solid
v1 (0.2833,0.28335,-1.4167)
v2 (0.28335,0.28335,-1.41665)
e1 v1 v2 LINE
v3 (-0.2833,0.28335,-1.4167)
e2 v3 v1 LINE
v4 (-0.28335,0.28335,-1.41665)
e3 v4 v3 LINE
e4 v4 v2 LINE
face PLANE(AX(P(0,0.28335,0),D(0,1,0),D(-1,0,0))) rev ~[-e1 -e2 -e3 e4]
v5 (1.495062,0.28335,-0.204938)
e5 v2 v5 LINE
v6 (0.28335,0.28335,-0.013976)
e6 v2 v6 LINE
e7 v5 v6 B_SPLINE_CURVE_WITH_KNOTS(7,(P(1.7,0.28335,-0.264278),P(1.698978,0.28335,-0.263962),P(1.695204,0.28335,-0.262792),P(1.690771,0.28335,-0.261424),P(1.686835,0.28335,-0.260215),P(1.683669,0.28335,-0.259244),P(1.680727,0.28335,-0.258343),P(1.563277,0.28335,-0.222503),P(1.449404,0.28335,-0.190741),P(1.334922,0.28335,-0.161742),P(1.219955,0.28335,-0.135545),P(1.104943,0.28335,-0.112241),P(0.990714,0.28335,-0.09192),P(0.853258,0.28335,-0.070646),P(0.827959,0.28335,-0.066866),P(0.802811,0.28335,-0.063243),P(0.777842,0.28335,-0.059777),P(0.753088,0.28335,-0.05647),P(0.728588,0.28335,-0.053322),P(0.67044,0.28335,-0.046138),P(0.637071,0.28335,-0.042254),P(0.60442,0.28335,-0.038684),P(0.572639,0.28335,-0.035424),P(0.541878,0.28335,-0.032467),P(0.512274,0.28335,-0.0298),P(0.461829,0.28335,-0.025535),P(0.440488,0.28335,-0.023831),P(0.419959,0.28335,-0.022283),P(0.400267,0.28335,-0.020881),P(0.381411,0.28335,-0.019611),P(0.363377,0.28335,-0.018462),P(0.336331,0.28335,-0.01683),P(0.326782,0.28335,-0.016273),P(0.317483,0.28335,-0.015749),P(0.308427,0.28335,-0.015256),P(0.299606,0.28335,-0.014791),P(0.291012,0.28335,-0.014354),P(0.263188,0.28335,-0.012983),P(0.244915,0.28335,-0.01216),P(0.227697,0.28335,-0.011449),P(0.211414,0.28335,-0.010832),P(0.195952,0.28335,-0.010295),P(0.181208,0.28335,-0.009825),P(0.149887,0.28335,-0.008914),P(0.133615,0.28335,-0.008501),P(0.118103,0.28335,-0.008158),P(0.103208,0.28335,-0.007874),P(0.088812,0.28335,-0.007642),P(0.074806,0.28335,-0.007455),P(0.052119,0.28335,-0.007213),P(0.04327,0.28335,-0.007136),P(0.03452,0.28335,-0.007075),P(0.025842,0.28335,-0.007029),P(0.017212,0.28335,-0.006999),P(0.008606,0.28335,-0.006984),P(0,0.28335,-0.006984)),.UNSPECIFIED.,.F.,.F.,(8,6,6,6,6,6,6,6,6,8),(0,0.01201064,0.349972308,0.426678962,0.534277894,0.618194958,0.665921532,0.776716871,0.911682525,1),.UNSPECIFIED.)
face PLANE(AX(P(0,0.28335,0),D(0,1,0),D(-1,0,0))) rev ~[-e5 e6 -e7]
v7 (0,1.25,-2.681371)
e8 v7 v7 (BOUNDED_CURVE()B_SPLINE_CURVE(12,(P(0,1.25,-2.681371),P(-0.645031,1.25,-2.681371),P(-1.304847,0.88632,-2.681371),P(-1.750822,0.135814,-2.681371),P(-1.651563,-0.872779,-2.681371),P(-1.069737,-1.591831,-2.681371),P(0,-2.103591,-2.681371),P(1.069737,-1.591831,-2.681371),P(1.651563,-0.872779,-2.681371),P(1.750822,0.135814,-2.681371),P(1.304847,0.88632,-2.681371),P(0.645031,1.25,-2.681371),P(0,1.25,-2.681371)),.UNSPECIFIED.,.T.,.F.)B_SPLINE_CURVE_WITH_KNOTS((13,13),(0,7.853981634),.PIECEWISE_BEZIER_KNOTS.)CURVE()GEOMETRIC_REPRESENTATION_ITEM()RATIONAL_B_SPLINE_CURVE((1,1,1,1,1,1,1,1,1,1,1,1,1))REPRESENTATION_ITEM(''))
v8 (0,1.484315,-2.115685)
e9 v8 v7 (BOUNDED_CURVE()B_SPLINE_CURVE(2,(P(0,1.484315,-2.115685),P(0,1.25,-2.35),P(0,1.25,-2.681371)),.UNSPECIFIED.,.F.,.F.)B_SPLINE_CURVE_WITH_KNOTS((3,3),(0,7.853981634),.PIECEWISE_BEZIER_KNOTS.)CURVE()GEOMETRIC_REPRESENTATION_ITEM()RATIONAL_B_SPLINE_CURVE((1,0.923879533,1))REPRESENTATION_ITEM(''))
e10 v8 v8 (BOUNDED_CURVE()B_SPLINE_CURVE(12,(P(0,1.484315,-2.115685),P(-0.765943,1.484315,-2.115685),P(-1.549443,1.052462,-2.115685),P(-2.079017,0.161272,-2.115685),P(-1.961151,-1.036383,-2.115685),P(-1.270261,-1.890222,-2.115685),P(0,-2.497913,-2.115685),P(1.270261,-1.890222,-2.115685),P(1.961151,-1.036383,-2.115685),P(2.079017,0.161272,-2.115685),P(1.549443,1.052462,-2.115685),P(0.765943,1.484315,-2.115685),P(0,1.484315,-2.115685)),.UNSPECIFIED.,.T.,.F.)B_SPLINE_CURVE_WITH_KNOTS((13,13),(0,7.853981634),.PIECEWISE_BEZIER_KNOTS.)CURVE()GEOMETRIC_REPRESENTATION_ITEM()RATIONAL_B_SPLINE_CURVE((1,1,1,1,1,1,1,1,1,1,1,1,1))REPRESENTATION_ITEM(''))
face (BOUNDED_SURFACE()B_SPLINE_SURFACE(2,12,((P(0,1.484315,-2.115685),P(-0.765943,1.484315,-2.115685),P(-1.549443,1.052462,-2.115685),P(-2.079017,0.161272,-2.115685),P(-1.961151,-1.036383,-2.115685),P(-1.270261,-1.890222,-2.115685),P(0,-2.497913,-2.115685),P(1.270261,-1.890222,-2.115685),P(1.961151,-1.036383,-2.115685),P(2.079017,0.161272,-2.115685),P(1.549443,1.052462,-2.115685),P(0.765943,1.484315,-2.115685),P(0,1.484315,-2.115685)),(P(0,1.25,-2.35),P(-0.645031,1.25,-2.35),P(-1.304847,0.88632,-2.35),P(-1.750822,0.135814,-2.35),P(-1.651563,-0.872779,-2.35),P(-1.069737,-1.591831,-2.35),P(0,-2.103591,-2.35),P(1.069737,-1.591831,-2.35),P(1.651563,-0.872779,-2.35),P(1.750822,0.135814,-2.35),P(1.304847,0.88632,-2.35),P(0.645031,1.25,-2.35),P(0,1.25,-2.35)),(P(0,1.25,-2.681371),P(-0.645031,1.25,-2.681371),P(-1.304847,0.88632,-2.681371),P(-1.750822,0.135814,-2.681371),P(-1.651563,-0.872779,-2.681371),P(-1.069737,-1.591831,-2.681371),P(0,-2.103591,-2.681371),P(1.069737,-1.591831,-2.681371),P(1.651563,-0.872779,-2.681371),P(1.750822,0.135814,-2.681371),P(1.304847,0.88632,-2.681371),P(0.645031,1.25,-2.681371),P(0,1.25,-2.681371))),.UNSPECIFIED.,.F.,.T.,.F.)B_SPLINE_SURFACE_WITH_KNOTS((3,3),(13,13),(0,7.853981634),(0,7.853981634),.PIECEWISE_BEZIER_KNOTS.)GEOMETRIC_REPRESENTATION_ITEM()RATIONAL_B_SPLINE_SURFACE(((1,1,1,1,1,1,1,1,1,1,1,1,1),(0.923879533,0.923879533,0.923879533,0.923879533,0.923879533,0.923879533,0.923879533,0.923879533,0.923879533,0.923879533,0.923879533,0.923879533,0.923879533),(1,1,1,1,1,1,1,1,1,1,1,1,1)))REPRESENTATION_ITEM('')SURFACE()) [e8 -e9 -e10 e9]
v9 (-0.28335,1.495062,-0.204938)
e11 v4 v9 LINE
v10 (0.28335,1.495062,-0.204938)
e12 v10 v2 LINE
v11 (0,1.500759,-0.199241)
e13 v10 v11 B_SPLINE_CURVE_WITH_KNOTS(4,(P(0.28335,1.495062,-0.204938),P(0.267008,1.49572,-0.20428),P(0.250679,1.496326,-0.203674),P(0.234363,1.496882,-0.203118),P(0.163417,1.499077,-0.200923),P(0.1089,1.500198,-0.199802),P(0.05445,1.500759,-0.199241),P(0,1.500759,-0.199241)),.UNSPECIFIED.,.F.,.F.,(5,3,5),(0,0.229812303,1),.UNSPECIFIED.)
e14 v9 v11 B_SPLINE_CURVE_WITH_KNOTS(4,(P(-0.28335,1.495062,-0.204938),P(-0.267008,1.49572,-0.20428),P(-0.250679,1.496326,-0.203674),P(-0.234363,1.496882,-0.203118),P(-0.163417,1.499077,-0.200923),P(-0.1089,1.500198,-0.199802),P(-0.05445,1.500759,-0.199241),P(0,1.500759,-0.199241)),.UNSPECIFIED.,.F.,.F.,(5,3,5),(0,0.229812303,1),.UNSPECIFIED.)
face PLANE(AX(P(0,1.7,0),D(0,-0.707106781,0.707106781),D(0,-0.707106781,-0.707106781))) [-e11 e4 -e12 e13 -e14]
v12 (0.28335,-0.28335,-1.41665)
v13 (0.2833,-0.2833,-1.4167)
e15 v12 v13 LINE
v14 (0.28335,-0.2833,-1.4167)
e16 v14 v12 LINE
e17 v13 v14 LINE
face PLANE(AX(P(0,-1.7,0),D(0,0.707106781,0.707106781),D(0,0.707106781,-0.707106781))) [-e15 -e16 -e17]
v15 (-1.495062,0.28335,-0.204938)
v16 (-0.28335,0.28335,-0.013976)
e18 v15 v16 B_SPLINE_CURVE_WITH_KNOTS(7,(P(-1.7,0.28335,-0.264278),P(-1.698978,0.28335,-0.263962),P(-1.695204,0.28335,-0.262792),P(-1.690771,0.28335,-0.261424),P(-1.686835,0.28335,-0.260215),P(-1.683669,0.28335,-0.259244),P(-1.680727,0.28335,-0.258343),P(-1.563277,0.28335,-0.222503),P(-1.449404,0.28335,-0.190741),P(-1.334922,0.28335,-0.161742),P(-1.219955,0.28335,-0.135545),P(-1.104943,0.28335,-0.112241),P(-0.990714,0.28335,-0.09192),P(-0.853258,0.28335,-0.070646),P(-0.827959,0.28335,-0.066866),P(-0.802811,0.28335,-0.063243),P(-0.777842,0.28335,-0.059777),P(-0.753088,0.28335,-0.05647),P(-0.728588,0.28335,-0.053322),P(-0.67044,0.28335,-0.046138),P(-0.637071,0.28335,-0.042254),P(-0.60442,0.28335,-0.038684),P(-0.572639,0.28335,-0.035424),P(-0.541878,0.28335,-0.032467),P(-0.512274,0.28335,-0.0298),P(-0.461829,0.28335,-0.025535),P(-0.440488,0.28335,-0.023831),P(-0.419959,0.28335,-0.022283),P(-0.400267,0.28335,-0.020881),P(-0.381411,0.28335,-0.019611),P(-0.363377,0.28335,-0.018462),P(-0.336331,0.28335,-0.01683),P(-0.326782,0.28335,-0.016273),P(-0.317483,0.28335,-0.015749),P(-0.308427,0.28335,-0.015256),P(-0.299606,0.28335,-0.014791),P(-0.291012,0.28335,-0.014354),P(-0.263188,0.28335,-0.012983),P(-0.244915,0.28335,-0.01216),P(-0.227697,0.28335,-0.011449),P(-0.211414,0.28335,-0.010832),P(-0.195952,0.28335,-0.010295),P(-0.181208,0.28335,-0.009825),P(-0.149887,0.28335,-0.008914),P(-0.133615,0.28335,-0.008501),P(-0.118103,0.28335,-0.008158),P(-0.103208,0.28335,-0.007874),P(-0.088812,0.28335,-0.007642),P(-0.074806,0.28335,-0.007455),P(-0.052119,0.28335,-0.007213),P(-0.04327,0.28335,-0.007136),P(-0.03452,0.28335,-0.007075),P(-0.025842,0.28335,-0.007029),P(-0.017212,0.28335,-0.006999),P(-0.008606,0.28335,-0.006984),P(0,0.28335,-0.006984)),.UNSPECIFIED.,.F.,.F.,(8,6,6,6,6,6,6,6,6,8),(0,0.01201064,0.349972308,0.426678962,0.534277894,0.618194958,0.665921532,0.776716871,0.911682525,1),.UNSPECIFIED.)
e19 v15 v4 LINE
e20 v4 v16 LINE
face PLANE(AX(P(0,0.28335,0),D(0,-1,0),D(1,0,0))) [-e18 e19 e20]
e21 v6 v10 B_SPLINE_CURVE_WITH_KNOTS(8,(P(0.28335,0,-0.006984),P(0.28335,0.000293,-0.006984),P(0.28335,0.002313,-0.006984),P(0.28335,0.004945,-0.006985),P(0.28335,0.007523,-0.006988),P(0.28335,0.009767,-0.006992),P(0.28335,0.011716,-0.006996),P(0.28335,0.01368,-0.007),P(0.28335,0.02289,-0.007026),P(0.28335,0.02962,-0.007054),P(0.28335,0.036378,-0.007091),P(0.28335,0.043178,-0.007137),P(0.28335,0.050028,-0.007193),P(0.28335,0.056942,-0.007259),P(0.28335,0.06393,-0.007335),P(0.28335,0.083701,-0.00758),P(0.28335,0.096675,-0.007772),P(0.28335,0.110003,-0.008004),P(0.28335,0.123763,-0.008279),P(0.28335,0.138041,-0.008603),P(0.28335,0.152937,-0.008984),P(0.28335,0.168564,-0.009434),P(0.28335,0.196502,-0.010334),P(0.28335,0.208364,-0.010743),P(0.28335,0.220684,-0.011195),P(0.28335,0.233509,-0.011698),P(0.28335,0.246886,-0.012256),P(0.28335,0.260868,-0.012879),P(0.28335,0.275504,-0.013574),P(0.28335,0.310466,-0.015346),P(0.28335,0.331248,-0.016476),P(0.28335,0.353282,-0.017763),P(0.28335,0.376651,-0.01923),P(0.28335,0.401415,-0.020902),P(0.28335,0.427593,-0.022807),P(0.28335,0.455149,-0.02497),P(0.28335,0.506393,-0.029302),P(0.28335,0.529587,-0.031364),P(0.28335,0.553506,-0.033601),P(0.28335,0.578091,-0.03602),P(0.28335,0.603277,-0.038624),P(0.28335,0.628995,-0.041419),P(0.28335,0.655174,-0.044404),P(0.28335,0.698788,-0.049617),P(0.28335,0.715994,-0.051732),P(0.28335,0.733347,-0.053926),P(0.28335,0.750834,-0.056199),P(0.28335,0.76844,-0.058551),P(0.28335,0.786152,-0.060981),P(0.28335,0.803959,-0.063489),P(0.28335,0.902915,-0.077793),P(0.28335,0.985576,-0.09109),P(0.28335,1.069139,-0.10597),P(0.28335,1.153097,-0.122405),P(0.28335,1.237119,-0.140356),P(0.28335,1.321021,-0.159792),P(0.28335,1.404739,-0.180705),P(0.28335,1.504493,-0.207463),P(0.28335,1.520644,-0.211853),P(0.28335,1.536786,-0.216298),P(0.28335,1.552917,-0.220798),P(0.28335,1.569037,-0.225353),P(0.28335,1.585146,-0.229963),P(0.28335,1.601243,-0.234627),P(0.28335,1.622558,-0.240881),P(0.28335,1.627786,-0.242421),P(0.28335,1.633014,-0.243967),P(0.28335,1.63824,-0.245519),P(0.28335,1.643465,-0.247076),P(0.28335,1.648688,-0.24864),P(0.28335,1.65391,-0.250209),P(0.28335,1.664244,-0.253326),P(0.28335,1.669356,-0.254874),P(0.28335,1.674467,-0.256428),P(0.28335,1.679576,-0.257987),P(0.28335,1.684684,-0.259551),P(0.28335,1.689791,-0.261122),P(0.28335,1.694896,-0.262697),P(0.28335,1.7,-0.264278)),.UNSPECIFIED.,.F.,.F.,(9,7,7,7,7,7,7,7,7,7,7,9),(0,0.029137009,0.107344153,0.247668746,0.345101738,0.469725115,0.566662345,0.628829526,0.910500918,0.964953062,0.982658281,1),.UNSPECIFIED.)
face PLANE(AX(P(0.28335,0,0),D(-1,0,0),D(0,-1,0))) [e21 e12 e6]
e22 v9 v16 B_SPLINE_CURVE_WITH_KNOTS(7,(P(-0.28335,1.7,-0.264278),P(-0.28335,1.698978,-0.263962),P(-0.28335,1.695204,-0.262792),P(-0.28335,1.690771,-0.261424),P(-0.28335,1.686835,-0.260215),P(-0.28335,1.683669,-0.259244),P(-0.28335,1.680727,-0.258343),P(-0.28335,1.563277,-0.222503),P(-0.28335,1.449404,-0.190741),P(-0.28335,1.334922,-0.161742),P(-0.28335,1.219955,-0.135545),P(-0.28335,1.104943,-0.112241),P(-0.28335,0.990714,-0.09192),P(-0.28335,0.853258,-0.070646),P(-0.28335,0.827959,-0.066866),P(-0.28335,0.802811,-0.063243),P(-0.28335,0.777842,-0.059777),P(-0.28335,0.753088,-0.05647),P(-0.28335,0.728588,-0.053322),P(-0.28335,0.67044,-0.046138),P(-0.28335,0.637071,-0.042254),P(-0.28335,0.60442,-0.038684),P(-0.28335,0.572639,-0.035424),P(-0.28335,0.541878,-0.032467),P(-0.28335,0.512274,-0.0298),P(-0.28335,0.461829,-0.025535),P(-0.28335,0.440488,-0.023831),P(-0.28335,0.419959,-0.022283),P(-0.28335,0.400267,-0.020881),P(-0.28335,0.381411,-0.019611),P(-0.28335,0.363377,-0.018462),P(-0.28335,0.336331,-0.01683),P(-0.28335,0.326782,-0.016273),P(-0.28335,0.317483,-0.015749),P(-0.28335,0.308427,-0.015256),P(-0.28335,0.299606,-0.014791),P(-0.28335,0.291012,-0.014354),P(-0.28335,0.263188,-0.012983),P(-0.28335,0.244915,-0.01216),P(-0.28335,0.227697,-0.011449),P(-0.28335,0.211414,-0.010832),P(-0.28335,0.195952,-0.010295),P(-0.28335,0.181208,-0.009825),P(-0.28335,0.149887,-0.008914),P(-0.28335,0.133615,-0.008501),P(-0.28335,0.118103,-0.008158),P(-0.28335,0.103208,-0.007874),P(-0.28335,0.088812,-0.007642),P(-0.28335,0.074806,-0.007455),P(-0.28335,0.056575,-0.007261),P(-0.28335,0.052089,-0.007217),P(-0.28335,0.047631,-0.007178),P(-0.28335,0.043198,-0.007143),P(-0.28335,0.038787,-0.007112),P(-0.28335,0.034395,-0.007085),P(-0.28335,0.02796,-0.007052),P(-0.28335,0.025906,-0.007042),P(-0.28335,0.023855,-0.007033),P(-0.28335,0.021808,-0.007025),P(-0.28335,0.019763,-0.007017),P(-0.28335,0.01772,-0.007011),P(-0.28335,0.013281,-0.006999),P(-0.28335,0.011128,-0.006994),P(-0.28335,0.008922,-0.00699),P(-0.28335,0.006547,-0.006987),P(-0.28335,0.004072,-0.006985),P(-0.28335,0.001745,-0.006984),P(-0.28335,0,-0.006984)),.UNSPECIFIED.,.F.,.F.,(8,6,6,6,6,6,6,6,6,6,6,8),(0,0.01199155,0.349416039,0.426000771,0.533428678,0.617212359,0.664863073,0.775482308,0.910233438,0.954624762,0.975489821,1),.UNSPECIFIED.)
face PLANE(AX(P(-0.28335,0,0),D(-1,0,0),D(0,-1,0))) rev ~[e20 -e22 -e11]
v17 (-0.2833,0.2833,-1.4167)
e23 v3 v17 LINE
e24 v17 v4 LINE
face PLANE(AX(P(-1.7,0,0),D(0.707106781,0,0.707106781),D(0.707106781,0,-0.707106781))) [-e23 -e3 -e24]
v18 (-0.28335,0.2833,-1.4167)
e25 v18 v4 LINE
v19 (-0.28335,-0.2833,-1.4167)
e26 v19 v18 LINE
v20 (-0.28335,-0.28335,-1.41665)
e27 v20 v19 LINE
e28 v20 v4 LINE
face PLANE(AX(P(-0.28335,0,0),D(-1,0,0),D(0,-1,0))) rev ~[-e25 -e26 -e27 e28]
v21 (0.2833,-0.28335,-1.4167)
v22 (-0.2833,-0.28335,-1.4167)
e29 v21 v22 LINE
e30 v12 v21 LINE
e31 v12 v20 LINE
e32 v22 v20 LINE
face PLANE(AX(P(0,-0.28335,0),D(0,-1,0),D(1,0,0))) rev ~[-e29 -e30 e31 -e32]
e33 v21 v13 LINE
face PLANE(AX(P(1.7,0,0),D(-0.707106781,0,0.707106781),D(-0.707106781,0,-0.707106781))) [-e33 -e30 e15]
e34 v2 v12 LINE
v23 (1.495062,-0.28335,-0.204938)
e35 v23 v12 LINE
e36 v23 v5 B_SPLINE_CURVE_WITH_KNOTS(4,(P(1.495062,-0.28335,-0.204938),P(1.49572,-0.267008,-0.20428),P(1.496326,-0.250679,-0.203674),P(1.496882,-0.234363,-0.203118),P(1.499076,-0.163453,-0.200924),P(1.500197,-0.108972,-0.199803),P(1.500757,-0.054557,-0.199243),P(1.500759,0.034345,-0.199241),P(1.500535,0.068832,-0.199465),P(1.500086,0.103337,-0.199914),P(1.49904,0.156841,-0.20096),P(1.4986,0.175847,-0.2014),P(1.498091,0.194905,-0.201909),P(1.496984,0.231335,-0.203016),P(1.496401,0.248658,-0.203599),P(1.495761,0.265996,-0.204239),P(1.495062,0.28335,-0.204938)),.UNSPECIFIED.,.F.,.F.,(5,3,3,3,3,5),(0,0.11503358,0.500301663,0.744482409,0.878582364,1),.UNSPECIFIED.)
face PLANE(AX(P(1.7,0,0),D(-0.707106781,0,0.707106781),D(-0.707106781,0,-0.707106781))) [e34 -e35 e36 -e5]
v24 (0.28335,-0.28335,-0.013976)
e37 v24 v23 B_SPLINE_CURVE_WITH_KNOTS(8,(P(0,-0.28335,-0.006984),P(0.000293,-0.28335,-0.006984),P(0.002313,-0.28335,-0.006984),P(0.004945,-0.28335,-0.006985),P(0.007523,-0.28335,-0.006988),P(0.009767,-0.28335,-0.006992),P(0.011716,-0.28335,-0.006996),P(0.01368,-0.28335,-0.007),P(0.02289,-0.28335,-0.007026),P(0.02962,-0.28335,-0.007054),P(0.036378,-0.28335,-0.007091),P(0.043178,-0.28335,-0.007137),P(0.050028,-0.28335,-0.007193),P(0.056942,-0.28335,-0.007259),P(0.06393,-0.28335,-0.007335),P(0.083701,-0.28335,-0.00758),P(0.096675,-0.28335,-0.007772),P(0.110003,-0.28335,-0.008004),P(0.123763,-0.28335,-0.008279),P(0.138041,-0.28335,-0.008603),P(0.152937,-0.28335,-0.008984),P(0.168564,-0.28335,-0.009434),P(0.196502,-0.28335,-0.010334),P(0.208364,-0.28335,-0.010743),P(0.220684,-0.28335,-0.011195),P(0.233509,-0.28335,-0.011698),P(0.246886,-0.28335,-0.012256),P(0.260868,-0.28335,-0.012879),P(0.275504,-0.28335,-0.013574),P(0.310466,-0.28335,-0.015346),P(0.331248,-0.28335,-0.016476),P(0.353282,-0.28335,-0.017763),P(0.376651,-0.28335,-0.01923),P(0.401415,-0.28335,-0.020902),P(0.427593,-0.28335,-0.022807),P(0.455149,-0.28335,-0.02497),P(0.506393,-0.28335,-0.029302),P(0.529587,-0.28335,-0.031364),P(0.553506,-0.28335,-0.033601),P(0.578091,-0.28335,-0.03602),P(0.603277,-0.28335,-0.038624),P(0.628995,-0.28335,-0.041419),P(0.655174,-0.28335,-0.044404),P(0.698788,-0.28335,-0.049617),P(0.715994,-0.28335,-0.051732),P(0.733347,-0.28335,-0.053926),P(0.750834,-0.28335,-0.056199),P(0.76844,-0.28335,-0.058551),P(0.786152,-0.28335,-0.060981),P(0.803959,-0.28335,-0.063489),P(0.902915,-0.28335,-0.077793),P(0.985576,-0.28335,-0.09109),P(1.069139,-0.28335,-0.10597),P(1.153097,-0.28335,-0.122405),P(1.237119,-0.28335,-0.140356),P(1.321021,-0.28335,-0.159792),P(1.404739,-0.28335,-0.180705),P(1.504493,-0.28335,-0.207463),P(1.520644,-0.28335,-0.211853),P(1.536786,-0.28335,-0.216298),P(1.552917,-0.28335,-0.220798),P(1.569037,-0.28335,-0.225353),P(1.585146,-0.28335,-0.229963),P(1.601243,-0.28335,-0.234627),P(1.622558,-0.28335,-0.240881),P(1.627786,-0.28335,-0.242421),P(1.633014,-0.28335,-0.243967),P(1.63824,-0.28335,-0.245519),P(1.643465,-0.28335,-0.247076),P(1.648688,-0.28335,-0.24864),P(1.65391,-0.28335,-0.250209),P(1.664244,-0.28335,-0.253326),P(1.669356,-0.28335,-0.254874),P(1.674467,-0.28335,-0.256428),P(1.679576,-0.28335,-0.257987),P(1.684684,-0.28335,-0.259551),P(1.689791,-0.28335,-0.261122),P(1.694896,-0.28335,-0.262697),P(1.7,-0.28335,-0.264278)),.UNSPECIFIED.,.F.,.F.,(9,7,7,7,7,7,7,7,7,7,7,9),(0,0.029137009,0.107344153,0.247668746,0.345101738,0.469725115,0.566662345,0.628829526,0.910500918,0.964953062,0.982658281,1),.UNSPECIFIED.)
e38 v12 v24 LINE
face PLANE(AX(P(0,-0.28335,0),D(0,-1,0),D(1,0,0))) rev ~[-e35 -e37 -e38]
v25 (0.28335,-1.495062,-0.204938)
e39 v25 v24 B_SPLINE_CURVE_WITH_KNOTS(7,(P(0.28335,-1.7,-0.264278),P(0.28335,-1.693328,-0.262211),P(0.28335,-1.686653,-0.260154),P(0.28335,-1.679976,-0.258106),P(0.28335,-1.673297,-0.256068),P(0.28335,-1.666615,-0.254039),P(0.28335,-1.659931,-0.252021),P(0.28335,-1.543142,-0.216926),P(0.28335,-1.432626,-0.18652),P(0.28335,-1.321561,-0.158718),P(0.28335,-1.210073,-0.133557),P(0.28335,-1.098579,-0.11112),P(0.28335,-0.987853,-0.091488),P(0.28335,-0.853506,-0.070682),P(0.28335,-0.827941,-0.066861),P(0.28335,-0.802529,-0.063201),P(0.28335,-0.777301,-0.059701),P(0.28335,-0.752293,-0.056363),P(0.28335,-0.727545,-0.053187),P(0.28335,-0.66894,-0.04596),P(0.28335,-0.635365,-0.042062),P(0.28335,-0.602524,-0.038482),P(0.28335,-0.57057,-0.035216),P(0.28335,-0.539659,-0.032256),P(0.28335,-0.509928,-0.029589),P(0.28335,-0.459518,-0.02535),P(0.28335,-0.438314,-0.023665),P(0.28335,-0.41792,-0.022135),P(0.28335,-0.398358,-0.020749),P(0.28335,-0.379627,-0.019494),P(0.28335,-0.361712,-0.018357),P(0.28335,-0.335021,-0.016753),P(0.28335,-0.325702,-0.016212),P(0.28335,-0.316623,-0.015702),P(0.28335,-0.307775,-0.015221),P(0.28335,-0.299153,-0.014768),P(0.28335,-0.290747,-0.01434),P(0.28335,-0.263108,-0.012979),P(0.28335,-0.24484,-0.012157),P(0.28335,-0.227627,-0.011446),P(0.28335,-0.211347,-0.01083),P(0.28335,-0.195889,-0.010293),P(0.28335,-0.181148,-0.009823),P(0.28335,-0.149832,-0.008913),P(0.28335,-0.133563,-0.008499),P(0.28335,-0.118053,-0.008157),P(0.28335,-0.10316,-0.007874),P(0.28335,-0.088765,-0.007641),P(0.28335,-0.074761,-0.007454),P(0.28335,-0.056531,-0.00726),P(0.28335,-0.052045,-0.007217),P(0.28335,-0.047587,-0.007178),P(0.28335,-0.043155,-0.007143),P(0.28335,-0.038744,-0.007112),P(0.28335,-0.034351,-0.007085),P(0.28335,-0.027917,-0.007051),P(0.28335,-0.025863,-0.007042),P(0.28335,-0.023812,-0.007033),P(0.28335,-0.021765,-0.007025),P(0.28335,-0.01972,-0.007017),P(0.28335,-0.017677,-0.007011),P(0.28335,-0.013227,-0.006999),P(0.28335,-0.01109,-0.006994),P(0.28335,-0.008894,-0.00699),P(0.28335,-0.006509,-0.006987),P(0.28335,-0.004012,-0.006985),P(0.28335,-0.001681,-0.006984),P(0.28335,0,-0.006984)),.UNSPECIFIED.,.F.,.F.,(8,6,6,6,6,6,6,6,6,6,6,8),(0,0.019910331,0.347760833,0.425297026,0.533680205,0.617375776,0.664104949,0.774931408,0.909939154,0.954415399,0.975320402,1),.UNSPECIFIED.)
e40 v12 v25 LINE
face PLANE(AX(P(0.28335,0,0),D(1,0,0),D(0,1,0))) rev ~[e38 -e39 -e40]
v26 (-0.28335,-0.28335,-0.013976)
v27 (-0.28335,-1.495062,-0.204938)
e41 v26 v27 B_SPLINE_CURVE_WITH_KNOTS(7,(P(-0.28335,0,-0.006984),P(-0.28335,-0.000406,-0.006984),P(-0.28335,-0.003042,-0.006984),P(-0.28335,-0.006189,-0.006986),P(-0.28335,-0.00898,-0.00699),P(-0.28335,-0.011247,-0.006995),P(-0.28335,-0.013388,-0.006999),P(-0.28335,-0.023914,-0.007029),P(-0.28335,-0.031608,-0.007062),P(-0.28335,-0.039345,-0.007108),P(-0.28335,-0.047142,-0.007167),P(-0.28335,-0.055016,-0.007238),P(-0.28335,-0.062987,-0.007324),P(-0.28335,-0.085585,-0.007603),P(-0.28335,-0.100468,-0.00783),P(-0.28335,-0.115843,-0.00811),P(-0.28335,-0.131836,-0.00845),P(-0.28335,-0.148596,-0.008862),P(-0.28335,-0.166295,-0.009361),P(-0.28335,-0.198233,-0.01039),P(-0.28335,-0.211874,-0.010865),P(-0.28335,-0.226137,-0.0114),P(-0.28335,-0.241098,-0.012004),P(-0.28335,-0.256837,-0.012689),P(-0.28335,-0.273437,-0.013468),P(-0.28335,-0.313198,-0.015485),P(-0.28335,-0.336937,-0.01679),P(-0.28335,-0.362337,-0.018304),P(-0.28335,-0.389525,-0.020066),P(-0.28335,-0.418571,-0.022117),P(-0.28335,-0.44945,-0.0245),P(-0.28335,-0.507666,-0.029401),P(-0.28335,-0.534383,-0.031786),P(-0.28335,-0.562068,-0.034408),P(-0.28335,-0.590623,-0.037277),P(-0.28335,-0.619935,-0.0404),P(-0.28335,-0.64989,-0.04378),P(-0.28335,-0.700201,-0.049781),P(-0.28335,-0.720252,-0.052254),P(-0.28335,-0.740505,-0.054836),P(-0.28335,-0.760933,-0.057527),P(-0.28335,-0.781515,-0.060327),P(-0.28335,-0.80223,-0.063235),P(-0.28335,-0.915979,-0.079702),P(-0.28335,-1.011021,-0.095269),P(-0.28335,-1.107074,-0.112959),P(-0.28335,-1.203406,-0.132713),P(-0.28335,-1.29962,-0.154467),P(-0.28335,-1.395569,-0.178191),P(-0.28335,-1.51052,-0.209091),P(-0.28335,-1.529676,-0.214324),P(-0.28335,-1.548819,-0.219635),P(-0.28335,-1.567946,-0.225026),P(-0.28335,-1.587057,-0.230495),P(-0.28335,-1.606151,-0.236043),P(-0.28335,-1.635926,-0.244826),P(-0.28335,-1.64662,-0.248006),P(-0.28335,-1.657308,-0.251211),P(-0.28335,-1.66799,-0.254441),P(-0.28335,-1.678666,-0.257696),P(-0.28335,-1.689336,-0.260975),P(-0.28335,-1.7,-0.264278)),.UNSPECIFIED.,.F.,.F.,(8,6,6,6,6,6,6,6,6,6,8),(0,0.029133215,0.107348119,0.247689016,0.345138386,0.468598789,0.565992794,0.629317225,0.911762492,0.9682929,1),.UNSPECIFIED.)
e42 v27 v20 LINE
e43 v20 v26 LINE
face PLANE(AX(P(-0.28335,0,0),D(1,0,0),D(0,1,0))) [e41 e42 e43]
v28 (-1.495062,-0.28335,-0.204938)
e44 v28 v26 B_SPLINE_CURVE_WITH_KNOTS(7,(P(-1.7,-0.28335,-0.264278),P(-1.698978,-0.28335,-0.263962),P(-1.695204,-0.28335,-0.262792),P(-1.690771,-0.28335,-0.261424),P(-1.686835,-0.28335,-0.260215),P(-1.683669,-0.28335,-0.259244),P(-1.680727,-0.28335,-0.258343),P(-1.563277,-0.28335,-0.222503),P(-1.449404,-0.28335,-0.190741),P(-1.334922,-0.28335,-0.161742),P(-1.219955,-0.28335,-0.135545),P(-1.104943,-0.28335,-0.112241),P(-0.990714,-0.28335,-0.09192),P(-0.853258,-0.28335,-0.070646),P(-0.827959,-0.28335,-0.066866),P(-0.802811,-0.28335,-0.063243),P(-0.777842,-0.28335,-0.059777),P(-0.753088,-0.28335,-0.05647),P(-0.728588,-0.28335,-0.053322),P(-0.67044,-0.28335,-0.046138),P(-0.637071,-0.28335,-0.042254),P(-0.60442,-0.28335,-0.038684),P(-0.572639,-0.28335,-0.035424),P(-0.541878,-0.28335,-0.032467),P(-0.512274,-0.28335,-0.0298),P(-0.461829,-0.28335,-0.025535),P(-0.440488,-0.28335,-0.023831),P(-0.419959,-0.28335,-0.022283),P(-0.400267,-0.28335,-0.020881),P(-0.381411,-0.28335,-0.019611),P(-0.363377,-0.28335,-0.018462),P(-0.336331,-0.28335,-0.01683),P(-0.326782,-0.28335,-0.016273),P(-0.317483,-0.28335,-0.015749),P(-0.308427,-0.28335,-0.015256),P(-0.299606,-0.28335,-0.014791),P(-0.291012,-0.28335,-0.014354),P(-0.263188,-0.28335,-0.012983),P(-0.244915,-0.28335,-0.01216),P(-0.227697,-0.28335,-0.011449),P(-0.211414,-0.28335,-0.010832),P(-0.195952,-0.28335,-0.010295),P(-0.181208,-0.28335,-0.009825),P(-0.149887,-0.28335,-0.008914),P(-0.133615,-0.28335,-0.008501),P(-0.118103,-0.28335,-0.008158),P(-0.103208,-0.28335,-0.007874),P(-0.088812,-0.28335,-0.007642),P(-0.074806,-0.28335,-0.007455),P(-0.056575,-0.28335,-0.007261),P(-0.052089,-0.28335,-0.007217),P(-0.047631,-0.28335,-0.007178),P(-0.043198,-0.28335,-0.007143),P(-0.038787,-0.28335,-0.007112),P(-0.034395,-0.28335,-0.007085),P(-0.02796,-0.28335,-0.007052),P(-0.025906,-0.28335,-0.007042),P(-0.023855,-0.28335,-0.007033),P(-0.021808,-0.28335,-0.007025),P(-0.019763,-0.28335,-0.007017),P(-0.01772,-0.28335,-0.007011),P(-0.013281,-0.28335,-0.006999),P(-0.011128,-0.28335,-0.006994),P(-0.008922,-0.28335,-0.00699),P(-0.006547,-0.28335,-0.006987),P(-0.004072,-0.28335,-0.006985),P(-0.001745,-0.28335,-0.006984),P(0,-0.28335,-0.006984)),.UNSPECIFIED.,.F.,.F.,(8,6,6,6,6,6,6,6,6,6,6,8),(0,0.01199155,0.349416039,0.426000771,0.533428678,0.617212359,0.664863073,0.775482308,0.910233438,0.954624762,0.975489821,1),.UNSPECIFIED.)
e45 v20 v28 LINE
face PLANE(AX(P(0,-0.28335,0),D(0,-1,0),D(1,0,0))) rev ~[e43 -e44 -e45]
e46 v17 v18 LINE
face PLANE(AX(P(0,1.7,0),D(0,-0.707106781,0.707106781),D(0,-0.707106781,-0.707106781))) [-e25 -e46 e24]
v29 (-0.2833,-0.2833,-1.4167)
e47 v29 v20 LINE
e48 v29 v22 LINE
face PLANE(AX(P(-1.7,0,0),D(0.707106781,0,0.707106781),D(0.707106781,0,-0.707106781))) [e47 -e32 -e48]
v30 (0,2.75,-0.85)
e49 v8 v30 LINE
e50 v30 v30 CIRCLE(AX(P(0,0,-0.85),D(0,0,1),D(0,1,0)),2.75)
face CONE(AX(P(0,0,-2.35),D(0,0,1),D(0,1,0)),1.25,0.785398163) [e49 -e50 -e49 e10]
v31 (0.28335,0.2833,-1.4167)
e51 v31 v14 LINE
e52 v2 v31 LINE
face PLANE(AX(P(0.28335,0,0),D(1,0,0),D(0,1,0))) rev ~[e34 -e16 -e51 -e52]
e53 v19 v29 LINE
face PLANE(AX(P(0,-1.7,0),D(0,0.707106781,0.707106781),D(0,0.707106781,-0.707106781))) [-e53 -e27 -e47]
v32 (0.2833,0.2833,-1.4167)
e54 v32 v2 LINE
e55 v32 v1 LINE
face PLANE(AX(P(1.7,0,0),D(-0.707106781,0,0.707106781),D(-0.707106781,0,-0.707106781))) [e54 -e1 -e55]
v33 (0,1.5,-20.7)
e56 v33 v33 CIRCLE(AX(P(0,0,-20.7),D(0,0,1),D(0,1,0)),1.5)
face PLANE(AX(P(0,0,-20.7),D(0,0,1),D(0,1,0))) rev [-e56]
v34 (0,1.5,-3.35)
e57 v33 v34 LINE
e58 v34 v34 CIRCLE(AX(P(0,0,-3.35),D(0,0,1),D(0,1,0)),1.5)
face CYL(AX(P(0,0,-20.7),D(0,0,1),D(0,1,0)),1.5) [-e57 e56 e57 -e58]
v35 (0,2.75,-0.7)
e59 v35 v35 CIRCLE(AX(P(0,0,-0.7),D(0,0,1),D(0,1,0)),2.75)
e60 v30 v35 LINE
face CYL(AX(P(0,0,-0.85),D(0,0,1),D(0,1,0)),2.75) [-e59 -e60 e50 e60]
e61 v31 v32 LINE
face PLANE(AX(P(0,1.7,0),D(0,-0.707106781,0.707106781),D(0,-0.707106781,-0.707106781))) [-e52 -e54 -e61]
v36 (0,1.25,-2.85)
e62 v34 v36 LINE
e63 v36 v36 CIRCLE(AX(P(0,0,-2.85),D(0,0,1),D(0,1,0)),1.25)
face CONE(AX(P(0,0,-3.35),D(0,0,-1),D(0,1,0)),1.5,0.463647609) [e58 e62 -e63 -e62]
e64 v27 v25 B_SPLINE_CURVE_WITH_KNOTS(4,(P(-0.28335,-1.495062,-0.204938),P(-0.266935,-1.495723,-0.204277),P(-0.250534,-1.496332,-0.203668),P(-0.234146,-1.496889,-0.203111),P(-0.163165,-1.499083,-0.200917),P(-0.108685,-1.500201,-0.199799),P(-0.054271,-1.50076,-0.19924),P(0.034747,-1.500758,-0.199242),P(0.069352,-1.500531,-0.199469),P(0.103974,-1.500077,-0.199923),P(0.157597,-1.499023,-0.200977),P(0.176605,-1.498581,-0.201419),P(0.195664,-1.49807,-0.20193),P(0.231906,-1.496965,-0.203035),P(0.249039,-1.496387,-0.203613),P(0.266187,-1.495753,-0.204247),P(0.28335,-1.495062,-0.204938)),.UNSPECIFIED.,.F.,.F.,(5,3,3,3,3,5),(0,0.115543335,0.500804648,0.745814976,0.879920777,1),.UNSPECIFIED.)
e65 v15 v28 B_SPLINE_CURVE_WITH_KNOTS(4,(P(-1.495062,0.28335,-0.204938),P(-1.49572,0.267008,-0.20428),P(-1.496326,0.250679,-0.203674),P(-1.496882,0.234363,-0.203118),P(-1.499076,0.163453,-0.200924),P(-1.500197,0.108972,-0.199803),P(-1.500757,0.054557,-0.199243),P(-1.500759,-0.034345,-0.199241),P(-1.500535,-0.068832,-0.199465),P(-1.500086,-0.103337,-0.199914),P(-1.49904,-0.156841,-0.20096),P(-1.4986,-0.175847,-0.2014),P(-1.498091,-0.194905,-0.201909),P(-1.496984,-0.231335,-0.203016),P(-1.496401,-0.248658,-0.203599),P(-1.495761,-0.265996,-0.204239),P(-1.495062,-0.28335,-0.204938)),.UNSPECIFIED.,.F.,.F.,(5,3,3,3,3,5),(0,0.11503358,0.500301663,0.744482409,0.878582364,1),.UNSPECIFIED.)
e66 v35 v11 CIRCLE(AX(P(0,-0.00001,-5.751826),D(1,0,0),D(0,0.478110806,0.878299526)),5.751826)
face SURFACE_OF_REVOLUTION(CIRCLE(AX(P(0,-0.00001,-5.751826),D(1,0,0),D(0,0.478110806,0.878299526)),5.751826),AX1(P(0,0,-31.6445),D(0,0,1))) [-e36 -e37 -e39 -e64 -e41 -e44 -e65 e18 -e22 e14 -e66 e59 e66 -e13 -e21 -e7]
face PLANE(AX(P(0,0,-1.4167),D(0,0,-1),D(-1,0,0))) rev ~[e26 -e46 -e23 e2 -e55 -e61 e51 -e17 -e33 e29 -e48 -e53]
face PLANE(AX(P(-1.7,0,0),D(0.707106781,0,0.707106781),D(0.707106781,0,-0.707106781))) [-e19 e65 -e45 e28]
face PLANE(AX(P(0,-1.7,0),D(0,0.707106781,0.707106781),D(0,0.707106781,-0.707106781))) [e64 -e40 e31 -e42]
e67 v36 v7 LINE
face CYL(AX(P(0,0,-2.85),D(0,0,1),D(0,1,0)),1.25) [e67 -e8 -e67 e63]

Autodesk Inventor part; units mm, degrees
ref_plane "WorkPlane2" through (0, 0, 0) normal (0, 0, 1) x (1, 0, 0)
sketch "Sketch1" plane through (0, 0, 0) normal (1, 0, 0) x (0, 1, 0)
  point P0 (0, 0)
ref_plane "Work Plane2" through (0, 0, -2.35) normal (0, 0, 1) x (1, 0, 0)
ref_plane "WorkPlane3" through (0, 0, 7) normal (0, 0, 1) x (1, 0, 0)
sketch "Sketch2" plane through (0, 0, 0) normal (0, 1, 0) x (-1, 0, 0)
  point P0 (0, 0)
sketch "Sketch3" plane through (0, 0, 0) normal (1, 0, 0) x (0, 1, 0)
  line L0 (1.5, -3.35) -> (1.25, -2.85)
  line L1 (1.5, -20.7) -> (1.5, -3.35)
  line L2 (0, -20.7) -> (1.5, -20.7)
  line L3 (0, 0) -> (0, -20.7)
  arc A0 (2.75, -0.7) -> (0, 0) centre (0, -5.7518) ccw
  line L4 (2.75, -0.85) -> (2.75, -0.7)
  line L5 (1.25, -2.35) -> (2.75, -0.85)
  line L6 (1.25, -2.85) -> (1.25, -2.35)
  line L7 (0, -31.6445) -> (0, 31.6445) construction
  line L8 (0, -31.6445) -> (0, 31.6445)
  line L9 (0, -44.3023) -> (0, 44.3023) projected
  dimension "d2" = 1.5
  dimension "d4" = 1.25
  dimension "d6" = 0.5
  dimension "d8" = 1.65
  dimension "d10" = 135
  dimension "d12" = 2.75
  dimension "d14" = 0
  dimension "d16" = 0.7
  dimension "d18" = 20
  dimension "d22" = 17.35
revolve "Revolution1" add sketch "Sketch3" angle 360 about axis through (0, 0, -31.6445) along (0, 0, 1)
fillet "Fillet1" radius 0.8 1 edges at (0, -1.25, -2.35)
sketch "Sketch4" plane through (0, 0, 0) normal (0, 1, 0) x (-1, 0, 0)
  line L0 (0, 0) -> (-1.7, 0)
  line L1 (0, -1.4167) -> (0, 0)
  line L2 (-1.7, 0) -> (-0.2833, -1.4167)
  line L3 (0, -6.9021) -> (0, 1.1504) projected
  arc A0 (2.75, -0.7) -> (-2.75, -0.7) centre (0, -5.7518) ccw projected
  line L4 (0, -1.4167) -> (-0.2833, -1.4167)
  point P0 (0, -1.7)
  dimension "d30" = 45
  dimension "d33" = 3.4
  dimension "d34" = 0.2833
  dimension "d35" = 90
extrude "Extrusion1" cut sketch "Sketch4" along normal mid plane 0.5667
pattern_circular "PolarArray1" count 4 over 360 about axis through (0, 0, -10) along (0, 0, 1) of "Extrusion1"
thread "Thread1" size "M3x0.5" class "6g" standard "ISO Metric profile" full length
ref_plane "MSC_PF1" through (0, 0, 0) normal (1, 0, 0) x (0, 1, 0)
ref_plane "MSC_PT1" through (0, 2.75, -0.85) normal (0, 0, -1) x (-1, 0, 0)
equation "\"d2\" = 0.5 * NND"
equation "\"d4\" = 0.5 * msp_mdtds"
equation "\"d6\" = msp_x"
equation "\"d8\" = ParK"
equation "\"d12\" = 0.5 * Dk"
equation "\"d16\" = ParF"
equation "\"d18\" = NLG"
equation "\"d22\" = b"
equation "\"d24\" = r"
equation "\"d33\" = M"
equation "\"d34\" = 0.0833333 * M"
equation "\"d31\" = 0.166667 * M"
equation "\"d39\" = b"
equation "\"PTC\" = 0.5"
equation "\"msp_x\" = PTC"
equation "\"NLG\" = 20"
equation "\"NND\" = 3"
equation "\"ParK\" = 1.65"
equation "\"r\" = 0.8"
equation "\"msp_mdtds\" = NND - PTC"
equation "\"b\" = 17.35"
equation "\"Dk\" = 5.5"
equation "\"ParF\" = 0.7"
equation "\"M\" = 3.4"
equation "\"ParA\" = 1"
equation "\"THREADDIA\" = NND"
equation "\"TEMPLATE\" = 1.2345"
properties part number "ISO 7047 - M3x20 - 4.8 - H" material "Steel"
